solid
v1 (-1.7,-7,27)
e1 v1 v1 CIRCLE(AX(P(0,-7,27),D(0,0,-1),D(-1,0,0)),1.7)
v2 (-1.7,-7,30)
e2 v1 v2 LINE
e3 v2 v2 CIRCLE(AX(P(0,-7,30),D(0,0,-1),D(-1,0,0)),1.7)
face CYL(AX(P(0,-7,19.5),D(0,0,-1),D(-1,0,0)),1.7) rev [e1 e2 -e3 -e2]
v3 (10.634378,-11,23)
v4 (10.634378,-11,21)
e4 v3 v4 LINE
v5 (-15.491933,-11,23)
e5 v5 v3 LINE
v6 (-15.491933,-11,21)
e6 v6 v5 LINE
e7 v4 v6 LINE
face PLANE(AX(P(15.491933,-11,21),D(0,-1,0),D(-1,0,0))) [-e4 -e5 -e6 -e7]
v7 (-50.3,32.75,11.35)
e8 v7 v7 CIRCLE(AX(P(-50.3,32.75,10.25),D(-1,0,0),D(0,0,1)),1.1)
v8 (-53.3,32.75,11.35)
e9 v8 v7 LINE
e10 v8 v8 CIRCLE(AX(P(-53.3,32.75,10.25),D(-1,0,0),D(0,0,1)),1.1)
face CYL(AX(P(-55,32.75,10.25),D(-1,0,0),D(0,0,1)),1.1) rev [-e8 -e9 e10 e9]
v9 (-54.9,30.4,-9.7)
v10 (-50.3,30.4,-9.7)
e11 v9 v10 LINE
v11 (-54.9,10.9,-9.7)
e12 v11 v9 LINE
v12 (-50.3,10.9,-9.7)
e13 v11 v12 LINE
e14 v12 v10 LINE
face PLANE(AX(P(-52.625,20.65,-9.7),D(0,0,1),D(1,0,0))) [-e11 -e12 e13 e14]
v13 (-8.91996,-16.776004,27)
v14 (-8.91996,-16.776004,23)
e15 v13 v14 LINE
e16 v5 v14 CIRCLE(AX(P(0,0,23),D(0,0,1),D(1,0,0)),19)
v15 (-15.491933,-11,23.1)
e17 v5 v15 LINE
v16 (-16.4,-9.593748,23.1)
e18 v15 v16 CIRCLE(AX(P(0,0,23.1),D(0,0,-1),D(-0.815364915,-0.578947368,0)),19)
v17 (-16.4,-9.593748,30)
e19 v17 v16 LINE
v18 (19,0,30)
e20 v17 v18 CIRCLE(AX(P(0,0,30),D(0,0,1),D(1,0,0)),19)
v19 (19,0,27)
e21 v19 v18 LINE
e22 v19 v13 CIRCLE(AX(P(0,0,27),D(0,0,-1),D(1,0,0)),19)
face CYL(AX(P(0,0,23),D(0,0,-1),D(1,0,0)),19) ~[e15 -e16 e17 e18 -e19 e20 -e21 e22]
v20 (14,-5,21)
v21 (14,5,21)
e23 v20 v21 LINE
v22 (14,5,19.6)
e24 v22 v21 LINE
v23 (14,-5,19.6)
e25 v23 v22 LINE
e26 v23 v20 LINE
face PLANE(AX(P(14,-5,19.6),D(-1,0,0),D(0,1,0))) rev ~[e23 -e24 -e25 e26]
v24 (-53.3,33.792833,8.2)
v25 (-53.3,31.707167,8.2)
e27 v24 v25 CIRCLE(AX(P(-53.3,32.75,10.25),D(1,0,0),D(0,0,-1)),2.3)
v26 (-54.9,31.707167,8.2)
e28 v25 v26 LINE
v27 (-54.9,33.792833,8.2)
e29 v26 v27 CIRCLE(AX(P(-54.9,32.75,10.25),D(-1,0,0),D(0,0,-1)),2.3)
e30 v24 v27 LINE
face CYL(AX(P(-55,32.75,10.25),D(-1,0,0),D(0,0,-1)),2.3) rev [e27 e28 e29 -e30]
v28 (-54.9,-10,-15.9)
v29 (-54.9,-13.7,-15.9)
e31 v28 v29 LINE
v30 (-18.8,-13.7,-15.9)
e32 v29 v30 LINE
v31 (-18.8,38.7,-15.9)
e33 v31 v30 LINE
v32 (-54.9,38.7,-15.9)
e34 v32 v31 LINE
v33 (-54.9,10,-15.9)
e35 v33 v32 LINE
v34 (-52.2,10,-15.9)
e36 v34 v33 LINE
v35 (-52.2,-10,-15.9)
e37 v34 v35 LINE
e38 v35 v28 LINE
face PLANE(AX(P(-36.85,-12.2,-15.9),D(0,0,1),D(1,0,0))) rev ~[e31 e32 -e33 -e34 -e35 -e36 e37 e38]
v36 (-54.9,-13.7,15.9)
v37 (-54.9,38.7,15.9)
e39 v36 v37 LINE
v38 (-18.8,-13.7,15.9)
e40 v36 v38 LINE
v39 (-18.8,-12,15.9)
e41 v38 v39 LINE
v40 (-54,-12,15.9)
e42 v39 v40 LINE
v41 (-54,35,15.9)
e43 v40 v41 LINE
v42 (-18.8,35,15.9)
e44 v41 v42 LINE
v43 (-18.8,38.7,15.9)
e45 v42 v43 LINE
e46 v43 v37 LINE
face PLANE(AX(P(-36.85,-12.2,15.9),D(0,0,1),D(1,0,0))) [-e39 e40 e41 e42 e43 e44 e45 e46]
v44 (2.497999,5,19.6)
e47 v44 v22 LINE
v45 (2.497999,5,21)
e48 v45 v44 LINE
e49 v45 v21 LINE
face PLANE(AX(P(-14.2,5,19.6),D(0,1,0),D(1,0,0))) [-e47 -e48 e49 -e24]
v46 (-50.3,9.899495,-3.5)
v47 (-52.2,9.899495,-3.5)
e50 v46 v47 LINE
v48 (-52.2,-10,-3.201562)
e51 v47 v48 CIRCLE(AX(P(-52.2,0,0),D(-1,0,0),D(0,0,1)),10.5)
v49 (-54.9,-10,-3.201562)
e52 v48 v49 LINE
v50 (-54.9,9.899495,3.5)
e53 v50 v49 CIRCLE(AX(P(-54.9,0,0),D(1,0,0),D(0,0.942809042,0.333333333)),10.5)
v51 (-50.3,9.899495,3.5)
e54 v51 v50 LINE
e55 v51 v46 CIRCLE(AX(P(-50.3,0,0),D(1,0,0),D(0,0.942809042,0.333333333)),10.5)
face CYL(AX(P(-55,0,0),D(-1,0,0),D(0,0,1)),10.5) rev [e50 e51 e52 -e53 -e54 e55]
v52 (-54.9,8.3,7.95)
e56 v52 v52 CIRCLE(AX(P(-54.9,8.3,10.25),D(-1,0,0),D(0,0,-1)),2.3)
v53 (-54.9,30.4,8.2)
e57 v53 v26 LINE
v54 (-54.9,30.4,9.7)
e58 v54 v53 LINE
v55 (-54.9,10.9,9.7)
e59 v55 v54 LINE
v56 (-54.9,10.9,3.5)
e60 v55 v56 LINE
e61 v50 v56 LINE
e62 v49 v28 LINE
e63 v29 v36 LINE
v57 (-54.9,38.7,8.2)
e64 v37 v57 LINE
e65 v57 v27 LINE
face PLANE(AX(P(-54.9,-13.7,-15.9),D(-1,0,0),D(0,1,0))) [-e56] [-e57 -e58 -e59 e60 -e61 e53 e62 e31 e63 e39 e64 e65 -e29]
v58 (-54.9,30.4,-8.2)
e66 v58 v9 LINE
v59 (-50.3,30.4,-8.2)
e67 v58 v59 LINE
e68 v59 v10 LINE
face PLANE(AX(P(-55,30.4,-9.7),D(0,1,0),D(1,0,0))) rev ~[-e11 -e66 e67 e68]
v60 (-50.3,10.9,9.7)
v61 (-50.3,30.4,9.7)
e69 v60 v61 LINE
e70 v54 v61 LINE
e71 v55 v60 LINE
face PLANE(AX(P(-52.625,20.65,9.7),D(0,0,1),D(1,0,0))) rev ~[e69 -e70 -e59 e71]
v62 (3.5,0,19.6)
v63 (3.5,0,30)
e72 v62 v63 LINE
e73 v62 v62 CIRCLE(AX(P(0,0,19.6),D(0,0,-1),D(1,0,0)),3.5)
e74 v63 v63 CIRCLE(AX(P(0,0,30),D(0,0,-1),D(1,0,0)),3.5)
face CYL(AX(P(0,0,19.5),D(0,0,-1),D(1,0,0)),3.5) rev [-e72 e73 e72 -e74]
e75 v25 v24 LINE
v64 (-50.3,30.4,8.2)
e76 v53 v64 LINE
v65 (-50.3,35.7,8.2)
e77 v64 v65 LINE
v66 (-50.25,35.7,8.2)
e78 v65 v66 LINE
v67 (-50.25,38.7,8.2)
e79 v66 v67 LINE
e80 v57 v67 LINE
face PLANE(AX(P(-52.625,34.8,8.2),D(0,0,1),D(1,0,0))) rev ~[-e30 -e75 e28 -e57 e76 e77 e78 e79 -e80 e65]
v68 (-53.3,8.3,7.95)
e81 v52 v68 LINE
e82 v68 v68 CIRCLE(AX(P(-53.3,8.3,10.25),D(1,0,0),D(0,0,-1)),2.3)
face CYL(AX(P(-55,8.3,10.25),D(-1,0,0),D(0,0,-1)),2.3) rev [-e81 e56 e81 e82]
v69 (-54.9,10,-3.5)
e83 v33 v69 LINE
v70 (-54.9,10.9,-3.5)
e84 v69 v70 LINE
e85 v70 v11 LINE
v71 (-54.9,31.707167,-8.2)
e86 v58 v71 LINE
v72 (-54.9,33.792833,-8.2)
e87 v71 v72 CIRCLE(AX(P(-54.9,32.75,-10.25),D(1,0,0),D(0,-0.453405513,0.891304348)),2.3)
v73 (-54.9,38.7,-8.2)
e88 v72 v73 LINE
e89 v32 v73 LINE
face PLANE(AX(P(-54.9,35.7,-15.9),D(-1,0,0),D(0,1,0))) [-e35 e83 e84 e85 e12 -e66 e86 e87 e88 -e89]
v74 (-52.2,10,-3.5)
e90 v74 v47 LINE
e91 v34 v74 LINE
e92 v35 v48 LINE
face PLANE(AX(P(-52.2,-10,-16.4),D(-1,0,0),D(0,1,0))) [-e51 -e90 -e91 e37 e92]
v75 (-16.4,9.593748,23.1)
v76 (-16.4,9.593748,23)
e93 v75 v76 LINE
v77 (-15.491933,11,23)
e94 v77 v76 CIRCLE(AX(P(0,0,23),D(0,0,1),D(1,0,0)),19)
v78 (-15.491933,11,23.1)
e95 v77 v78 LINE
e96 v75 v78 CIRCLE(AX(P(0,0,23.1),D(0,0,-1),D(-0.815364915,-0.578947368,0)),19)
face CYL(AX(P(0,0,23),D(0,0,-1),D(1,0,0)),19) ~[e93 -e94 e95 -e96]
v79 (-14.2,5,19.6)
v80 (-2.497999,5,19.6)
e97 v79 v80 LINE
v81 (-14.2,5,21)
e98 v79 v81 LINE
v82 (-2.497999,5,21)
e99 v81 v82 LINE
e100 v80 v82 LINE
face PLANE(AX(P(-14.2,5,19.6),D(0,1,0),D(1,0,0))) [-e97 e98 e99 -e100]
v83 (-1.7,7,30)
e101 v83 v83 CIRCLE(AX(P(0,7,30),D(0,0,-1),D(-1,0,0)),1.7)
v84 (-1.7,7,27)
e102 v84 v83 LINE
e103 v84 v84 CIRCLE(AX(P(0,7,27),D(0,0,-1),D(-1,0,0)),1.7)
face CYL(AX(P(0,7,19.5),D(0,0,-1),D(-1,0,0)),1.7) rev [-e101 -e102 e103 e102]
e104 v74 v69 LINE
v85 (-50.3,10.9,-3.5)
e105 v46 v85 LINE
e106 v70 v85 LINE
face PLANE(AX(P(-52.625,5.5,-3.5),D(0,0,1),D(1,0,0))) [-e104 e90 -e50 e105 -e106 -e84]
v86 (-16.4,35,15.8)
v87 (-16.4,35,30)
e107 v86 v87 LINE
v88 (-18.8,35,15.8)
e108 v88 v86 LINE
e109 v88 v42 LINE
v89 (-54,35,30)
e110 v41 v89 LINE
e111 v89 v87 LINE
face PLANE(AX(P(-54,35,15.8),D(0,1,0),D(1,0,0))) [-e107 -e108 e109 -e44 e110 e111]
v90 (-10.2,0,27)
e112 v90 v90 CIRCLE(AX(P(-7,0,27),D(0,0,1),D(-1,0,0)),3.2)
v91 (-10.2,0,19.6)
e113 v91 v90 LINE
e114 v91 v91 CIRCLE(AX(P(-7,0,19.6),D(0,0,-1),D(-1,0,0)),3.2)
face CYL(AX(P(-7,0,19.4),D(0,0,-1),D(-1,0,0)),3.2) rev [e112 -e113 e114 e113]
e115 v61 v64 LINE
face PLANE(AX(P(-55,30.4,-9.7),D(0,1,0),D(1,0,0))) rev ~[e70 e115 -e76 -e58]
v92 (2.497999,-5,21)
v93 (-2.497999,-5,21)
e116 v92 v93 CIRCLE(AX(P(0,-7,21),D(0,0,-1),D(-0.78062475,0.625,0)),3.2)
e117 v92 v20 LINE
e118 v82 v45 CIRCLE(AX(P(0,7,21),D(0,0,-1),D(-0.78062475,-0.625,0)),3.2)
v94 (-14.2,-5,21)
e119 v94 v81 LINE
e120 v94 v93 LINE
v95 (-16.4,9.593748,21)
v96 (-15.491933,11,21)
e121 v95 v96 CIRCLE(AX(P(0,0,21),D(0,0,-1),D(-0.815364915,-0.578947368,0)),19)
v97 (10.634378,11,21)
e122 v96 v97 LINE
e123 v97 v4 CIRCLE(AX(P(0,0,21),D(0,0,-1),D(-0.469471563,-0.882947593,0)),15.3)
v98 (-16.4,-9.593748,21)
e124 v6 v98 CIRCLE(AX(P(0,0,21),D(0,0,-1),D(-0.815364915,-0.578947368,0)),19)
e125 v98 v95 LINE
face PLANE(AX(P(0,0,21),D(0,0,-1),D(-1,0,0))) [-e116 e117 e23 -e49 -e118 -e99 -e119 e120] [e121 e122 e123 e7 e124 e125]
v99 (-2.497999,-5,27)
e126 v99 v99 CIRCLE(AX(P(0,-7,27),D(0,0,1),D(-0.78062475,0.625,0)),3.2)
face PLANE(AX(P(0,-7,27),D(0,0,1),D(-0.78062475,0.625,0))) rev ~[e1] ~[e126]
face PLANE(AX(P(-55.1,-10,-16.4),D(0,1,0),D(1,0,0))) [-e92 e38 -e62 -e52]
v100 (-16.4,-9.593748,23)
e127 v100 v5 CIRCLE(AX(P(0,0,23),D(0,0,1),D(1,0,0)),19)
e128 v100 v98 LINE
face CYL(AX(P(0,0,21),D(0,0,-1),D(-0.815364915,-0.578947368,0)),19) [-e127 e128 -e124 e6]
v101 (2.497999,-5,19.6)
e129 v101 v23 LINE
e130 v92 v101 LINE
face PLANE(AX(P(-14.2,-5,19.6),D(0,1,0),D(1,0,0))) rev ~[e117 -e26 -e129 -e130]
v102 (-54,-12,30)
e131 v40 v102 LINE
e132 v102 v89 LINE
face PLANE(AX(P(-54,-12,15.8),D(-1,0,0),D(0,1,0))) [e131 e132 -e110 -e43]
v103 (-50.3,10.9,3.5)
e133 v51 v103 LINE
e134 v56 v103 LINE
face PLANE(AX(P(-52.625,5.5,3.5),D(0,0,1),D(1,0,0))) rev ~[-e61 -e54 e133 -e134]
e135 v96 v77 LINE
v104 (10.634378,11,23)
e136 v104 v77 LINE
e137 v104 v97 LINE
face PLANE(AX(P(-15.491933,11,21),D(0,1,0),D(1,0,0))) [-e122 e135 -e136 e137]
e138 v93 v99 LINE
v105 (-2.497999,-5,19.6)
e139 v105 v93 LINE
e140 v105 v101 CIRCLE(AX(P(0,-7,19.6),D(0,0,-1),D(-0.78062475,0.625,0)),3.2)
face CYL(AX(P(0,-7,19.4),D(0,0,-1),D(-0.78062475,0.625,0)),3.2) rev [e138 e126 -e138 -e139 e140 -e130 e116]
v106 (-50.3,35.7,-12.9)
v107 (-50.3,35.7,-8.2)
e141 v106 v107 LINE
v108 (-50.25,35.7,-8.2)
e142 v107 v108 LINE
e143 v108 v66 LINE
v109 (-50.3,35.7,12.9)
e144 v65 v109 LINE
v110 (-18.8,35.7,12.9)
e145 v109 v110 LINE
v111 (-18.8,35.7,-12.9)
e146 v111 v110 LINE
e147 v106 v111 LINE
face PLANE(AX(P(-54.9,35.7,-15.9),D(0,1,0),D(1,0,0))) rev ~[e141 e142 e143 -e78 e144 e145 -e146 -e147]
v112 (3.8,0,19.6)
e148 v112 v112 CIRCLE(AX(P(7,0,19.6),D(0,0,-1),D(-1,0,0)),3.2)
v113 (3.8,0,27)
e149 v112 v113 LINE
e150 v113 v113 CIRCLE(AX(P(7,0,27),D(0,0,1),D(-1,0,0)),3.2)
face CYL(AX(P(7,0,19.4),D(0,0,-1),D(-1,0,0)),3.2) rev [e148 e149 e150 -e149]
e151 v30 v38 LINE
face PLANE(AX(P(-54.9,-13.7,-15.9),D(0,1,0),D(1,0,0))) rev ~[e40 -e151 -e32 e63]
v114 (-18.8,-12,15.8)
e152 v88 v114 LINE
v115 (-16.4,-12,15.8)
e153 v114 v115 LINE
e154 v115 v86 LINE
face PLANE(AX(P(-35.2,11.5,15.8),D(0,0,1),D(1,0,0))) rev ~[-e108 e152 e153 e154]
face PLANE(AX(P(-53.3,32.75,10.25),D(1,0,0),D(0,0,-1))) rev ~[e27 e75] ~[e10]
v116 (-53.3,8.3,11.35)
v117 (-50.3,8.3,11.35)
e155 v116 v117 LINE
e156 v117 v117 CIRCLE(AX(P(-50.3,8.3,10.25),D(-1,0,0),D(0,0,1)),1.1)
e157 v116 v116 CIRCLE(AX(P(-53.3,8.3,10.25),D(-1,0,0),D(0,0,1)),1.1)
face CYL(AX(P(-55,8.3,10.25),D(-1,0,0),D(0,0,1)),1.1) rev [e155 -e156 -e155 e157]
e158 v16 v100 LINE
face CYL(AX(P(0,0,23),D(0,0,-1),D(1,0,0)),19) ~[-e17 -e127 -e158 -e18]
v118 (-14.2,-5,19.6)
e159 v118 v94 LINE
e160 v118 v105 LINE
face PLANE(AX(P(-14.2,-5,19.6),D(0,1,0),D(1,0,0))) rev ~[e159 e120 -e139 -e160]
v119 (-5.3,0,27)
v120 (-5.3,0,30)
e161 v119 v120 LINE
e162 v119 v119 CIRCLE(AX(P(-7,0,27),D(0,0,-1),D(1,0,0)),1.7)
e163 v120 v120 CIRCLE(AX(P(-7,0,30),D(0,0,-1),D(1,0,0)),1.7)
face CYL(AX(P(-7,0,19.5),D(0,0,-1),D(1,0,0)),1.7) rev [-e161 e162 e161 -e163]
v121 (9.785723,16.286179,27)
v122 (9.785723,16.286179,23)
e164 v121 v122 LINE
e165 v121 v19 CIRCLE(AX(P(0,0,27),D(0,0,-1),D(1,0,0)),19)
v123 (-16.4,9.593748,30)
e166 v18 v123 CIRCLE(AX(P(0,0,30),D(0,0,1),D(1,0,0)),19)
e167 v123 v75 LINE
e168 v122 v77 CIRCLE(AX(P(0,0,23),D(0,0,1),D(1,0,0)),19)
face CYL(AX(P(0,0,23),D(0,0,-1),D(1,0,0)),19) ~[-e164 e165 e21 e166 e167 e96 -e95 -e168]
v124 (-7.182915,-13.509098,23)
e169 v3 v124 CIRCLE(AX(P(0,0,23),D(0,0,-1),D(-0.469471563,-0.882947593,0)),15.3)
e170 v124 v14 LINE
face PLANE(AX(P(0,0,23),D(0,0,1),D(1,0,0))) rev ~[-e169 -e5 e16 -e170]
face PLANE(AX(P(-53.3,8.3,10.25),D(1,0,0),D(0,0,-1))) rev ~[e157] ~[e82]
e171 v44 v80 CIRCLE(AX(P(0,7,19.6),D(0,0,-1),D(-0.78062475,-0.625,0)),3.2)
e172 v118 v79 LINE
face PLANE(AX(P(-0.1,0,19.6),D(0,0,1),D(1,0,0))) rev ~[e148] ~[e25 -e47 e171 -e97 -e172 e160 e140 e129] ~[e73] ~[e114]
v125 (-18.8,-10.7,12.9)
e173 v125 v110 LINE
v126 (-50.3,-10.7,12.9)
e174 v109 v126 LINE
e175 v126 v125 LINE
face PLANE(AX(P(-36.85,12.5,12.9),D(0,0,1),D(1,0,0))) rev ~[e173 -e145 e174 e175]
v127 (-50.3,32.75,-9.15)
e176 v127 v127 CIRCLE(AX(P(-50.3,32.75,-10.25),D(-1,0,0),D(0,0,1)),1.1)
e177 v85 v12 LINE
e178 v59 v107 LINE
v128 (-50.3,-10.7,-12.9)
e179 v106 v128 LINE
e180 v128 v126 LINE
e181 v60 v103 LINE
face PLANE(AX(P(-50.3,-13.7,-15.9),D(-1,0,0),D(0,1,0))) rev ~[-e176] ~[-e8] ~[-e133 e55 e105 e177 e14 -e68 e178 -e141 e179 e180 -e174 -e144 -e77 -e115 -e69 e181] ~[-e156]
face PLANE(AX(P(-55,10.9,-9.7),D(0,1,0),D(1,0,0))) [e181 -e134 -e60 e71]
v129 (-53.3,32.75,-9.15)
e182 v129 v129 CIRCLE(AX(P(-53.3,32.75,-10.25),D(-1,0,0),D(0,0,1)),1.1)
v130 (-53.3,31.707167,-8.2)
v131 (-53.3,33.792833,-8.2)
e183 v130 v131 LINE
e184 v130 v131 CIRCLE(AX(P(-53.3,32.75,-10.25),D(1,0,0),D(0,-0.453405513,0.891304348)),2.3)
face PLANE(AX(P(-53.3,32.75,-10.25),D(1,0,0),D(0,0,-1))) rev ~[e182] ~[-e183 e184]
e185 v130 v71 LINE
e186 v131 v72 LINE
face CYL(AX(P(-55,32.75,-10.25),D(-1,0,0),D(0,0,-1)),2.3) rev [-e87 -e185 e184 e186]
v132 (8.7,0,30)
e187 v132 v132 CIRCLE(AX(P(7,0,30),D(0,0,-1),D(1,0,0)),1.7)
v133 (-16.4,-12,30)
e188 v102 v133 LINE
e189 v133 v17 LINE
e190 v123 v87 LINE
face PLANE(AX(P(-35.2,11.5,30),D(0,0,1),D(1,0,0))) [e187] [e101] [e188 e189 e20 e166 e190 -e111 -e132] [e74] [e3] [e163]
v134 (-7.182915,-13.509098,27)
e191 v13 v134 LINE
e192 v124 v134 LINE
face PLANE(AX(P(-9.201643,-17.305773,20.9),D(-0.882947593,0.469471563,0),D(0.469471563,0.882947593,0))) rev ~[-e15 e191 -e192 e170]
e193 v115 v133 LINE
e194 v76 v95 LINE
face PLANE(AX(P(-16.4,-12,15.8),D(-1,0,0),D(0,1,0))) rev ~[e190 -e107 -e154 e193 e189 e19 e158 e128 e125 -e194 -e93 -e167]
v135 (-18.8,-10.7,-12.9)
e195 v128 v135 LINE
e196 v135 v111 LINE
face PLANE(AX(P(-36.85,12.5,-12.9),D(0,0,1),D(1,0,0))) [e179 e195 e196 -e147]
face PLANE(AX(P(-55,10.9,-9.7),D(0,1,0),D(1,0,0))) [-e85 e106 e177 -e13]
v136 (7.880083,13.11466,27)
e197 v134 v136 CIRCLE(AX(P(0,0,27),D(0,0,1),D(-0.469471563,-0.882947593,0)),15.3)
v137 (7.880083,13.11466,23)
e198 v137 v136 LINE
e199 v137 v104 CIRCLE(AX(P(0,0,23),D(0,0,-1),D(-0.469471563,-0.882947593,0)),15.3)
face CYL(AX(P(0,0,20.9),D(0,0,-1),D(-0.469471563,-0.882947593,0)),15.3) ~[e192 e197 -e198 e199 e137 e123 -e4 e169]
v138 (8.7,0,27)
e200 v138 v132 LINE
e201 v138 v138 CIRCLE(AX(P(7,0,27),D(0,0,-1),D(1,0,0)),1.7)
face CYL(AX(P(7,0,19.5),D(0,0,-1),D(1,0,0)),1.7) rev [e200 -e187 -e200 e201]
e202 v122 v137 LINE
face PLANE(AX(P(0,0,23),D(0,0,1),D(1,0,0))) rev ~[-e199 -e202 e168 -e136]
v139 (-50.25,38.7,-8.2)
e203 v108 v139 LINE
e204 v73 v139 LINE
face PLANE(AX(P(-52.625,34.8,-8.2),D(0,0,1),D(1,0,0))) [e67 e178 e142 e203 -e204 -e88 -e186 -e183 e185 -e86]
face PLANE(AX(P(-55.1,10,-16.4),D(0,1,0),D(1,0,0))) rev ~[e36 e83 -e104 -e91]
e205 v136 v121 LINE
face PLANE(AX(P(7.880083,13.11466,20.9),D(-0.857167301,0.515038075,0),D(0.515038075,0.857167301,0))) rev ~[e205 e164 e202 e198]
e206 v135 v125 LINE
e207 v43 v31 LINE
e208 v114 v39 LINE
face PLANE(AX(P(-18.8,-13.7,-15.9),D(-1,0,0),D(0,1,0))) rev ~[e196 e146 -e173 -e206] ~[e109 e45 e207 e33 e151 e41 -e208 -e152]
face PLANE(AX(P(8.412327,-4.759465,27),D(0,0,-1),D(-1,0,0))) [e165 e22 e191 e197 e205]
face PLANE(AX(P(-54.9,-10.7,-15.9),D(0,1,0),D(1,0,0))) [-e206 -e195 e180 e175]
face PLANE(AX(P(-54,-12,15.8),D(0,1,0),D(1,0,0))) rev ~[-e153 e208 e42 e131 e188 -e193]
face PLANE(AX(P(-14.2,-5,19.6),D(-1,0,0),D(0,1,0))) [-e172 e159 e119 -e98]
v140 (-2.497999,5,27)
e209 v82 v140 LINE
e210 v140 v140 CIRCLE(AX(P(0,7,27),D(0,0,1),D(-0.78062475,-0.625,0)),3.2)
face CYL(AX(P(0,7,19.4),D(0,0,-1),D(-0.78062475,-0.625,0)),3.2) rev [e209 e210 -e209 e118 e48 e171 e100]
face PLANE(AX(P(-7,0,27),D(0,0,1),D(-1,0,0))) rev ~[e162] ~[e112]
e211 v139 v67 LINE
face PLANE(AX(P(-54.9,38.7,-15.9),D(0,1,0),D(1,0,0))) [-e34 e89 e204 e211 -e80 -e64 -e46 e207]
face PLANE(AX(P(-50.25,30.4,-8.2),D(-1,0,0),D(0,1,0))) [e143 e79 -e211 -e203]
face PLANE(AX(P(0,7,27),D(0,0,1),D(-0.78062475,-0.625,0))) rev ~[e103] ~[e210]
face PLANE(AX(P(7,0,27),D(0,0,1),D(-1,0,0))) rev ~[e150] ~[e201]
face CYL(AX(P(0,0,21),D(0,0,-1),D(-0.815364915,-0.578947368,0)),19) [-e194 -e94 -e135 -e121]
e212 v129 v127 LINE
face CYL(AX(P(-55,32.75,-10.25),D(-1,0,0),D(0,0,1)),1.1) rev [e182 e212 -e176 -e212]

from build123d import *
from build123d.topology import SkipClean

# Parameters (mm, degrees)
S_CYL1_R        = 19
BOSS_1_DEPTH    = 7
BOSS_2_DEPTH    = 2.1
S_BOX3_W        = 28.2
S_BOX3_H        = 10
BOSS_3_DEPTH    = 1.5
S_BOX4_W        = 37.6
S_BOX4_H        = 47
BOSS_4_DEPTH    = 14.2
S_BOX5_W        = 36.1
S_BOX5_H        = 3
BOSS_5_DEPTH    = 31.8
S_BOX6_W        = 36.1
S_BOX6_H        = 3
BOSS_6_DEPTH    = 31.8
S_BOX7_W        = 36.1
S_BOX7_H        = 52.4
BOSS_7_DEPTH    = 3
S_BOX8_W        = 36.1
S_BOX8_H        = 52.4
BOSS_8_DEPTH    = 3
S_BOX9_W        = 4.6
S_BOX9_H        = 52.4
BOSS_9_DEPTH    = 31.8
S_HOLE10_R      = 10.5
HOLE_10_DEPTH   = 4.8
S_CUT11_W       = 4.75
S_CUT11_H       = 19.5
POCKET_11_DEPTH = 19.4
S_CUT12_W       = 4.75
S_CUT12_H       = 8.8
POCKET_12_DEPTH = 16.4
S_CUT13_W       = 4.75
S_CUT13_H       = 11
POCKET_13_DEPTH = 7
S_CUT14_W       = 2.9
S_CUT14_H       = 20
POCKET_14_DEPTH = 16.4
S_HOLE15_R      = 1.1
HOLE_15_DEPTH   = 4.8
S_HOLE16_R      = 2.3
HOLE_16_DEPTH   = 1.7
S_HOLE17_R      = 1.1
HOLE_17_DEPTH   = 4.8
S_HOLE18_R      = 2.3
HOLE_18_DEPTH   = 1.7
S_HOLE19_R      = 1.1
HOLE_19_DEPTH   = 4.8
S_HOLE20_R      = 2.3
HOLE_20_DEPTH   = 1.7
CUT_21_DEPTH    = 6.1
S_HOLE22_R      = 3.5
HOLE_22_DEPTH   = 10.6
S_HOLE23_R      = 1.7
HOLE_23_DEPTH   = 10.6
S_HOLE24_R      = 1.7
HOLE_24_DEPTH   = 10.6
S_HOLE25_R      = 1.7
HOLE_25_DEPTH   = 10.6
S_HOLE26_R      = 1.7
HOLE_26_DEPTH   = 10.6
S_HOLE27_R      = 3.2
HOLE_27_DEPTH   = 7.6
S_HOLE28_R      = 3.2
HOLE_28_DEPTH   = 7.6
S_HOLE29_R      = 3.2
HOLE_29_DEPTH   = 7.6
S_HOLE30_R      = 3.2
HOLE_30_DEPTH   = 7.6


with BuildPart() as part:
    # S_cyl1 → Boss_1 (new body)
    with BuildSketch(Plane.XY.offset(23)):
        Circle(S_CYL1_R)
    extrude(amount=BOSS_1_DEPTH)

    # S_prism2 → Boss_2 (add)
    with SkipClean():  # the faces are left unmerged after this step: merging them gives an invalid solid
        with BuildSketch(Plane.XY.offset(21)):
            with BuildLine():
                Line((-15.491933385, 11), (15.491933385, 11))
                ThreePointArc((15.491933385, 11), (19, 0), (15.491933385, -11))
                Line((15.491933385, -11), (-15.491933385, -11))
                ThreePointArc((-15.491933385, -11), (-19, 0), (-15.491933385, 11))
            make_face()
        extrude(amount=BOSS_2_DEPTH)

    # S_box3 → Boss_3 (add)
    with SkipClean():  # the faces are left unmerged after this step: merging them gives an invalid solid
        with BuildSketch(Plane.XY.offset(19.6)):
            with Locations((-0.1, 0)):
                Rectangle(S_BOX3_W, S_BOX3_H)
        extrude(amount=BOSS_3_DEPTH)

    # S_box4 → Boss_4 (add)
    with SkipClean():  # the faces are left unmerged after this step: merging them gives an invalid solid
        with BuildSketch(Plane.XY.offset(15.8)):
            with Locations((-35.2, 11.5)):
                Rectangle(S_BOX4_W, S_BOX4_H)
        extrude(amount=BOSS_4_DEPTH)

    # S_box6 → Boss_6 (add)
    with SkipClean():  # the faces are left unmerged after this step: merging them gives an invalid solid
        with BuildSketch(Plane.XY.offset(-15.9)):
            with Locations((-36.85, -12.2)):
                Rectangle(S_BOX6_W, S_BOX6_H)
        extrude(amount=BOSS_6_DEPTH)



with BuildPart() as body_2:
    # S_box5 → Boss_5 (new body)
    with BuildSketch(Plane.XY.offset(-15.9)):
        with Locations((-36.85, 37.2)):
            Rectangle(S_BOX5_W, S_BOX5_H)
    extrude(amount=BOSS_5_DEPTH)


with BuildPart() as part_1:
    with SkipClean():  # the faces are left unmerged after this step: merging them gives an invalid solid
        add(part.part)

        add(body_2.part)  # Boss_7 merges body 2
        # S_box7 → Boss_7 (add)
        with BuildSketch(Plane.XY.offset(-15.9)):
            with Locations((-36.85, 12.5)):
                Rectangle(S_BOX7_W, S_BOX7_H)
        extrude(amount=BOSS_7_DEPTH)

    # S_box8 → Boss_8 (add)
    with SkipClean():  # the faces are left unmerged after this step: merging them gives an invalid solid
        with BuildSketch(Plane.XY.offset(12.9)):
            with Locations((-36.85, 12.5)):
                Rectangle(S_BOX8_W, S_BOX8_H)
        extrude(amount=BOSS_8_DEPTH)

    # S_box9 → Boss_9 (add)
    with SkipClean():  # the faces are left unmerged after this step: merging them gives an invalid solid
        with BuildSketch(Plane.XY.offset(-15.9)):
            with Locations((-52.6, 12.5)):
                Rectangle(S_BOX9_W, S_BOX9_H)
        extrude(amount=BOSS_9_DEPTH)

    # S_hole10 → Hole_10 (cut)
    with SkipClean():  # the faces are left unmerged after this step: merging them gives an invalid solid
        with BuildSketch(Plane(origin=(-55, 0, 0), x_dir=(0, 0, -1), z_dir=(1, 0, 0))):
            Circle(S_HOLE10_R)
        extrude(amount=HOLE_10_DEPTH, mode=Mode.SUBTRACT)

    # S_cut11 → Pocket_11 (cut)
    with SkipClean():  # the faces are left unmerged after this step: merging them gives an invalid solid
        with BuildSketch(Plane.XY.offset(-9.7)):
            with Locations((-52.625, 20.65)):
                Rectangle(S_CUT11_W, S_CUT11_H)
        extrude(amount=POCKET_11_DEPTH, mode=Mode.SUBTRACT)

    # S_cut12 → Pocket_12 (cut)
    with SkipClean():  # the faces are left unmerged after this step: merging them gives an invalid solid
        with BuildSketch(Plane.XY.offset(-8.2)):
            with Locations((-52.625, 34.8)):
                Rectangle(S_CUT12_W, S_CUT12_H)
        extrude(amount=POCKET_12_DEPTH, mode=Mode.SUBTRACT)

    # S_cut13 → Pocket_13 (cut)
    with SkipClean():  # the faces are left unmerged after this step: merging them gives an invalid solid
        with BuildSketch(Plane.XY.offset(-3.5)):
            with Locations((-52.625, 5.5)):
                Rectangle(S_CUT13_W, S_CUT13_H)
        extrude(amount=POCKET_13_DEPTH, mode=Mode.SUBTRACT)

    # S_cut14 → Pocket_14 (cut)
    with SkipClean():  # the faces are left unmerged after this step: merging them gives an invalid solid
        with BuildSketch(Plane.XY.offset(-16.4)):
            with Locations((-53.65, 0)):
                Rectangle(S_CUT14_W, S_CUT14_H)
        extrude(amount=POCKET_14_DEPTH, mode=Mode.SUBTRACT)

    # S_hole15 → Hole_15 (cut)
    with SkipClean():  # the faces are left unmerged after this step: merging them gives an invalid solid
        with BuildSketch(Plane(origin=(-55, 0, 0), x_dir=(0, 0, -1), z_dir=(1, 0, 0))):
            with Locations((-10.25, 8.3)):
                Circle(S_HOLE15_R)
        extrude(amount=HOLE_15_DEPTH, mode=Mode.SUBTRACT)

    # S_hole16 → Hole_16 (cut)
    with SkipClean():  # the faces are left unmerged after this step: merging them gives an invalid solid
        with BuildSketch(Plane(origin=(-55, 0, 0), x_dir=(0, 0, -1), z_dir=(1, 0, 0))):
            with Locations((-10.25, 8.3)):
                Circle(S_HOLE16_R)
        extrude(amount=HOLE_16_DEPTH, mode=Mode.SUBTRACT)

    # S_hole17 → Hole_17 (cut)
    with SkipClean():  # the faces are left unmerged after this step: merging them gives an invalid solid
        with BuildSketch(Plane(origin=(-55, 0, 0), x_dir=(0, 0, -1), z_dir=(1, 0, 0))):
            with Locations((10.25, 32.75)):
                Circle(S_HOLE17_R)
        extrude(amount=HOLE_17_DEPTH, mode=Mode.SUBTRACT)

    # S_hole18 → Hole_18 (cut)
    with SkipClean():  # the faces are left unmerged after this step: merging them gives an invalid solid
        with BuildSketch(Plane(origin=(-55, 0, 0), x_dir=(0, 0, -1), z_dir=(1, 0, 0))):
            with Locations((10.25, 32.75)):
                Circle(S_HOLE18_R)
        extrude(amount=HOLE_18_DEPTH, mode=Mode.SUBTRACT)

    # S_hole19 → Hole_19 (cut)
    with SkipClean():  # the faces are left unmerged after this step: merging them gives an invalid solid
        with BuildSketch(Plane(origin=(-55, 0, 0), x_dir=(0, 0, -1), z_dir=(1, 0, 0))):
            with Locations((-10.25, 32.75)):
                Circle(S_HOLE19_R)
        extrude(amount=HOLE_19_DEPTH, mode=Mode.SUBTRACT)

    # S_hole20 → Hole_20 (cut)
    with SkipClean():  # the faces are left unmerged after this step: merging them gives an invalid solid
        with BuildSketch(Plane(origin=(-55, 0, 0), x_dir=(0, 0, -1), z_dir=(1, 0, 0))):
            with Locations((-10.25, 32.75)):
                Circle(S_HOLE20_R)
        extrude(amount=HOLE_20_DEPTH, mode=Mode.SUBTRACT)

    # S_pcut21 → Cut_21 (cut)
    with BuildSketch(Plane.XY.offset(20.9)):
        with BuildLine():
            Line((-9.201642631, -17.30577282), (-7.182914911, -13.509098171))
            ThreePointArc((-7.182914911, -13.509098171), (13.316442148, -7.53408047), (7.880082546, 13.114659701))
            Line((7.880082546, 13.114659701), (10.094746268, 16.800479094))
            ThreePointArc((10.094746268, 16.800479094), (17.05897164, -9.651501778), (-9.201642631, -17.30577282))
        make_face()
    extrude(amount=CUT_21_DEPTH, mode=Mode.SUBTRACT)

    # S_hole22 → Hole_22 (cut)
    with BuildSketch(Plane.XY.offset(19.5)):
        Circle(S_HOLE22_R)
    extrude(amount=HOLE_22_DEPTH, mode=Mode.SUBTRACT)

    # S_hole23 → Hole_23 (cut)
    with BuildSketch(Plane.XY.offset(19.5)):
        with Locations((7, 0)):
            Circle(S_HOLE23_R)
    extrude(amount=HOLE_23_DEPTH, mode=Mode.SUBTRACT)

    # S_hole24 → Hole_24 (cut)
    with BuildSketch(Plane.XY.offset(19.5)):
        with Locations((0, -7)):
            Circle(S_HOLE24_R)
    extrude(amount=HOLE_24_DEPTH, mode=Mode.SUBTRACT)

    # S_hole25 → Hole_25 (cut)
    with BuildSketch(Plane.XY.offset(19.5)):
        with Locations((-7, 0)):
            Circle(S_HOLE25_R)
    extrude(amount=HOLE_25_DEPTH, mode=Mode.SUBTRACT)

    # S_hole26 → Hole_26 (cut)
    with BuildSketch(Plane.XY.offset(19.5)):
        with Locations((0, 7)):
            Circle(S_HOLE26_R)
    extrude(amount=HOLE_26_DEPTH, mode=Mode.SUBTRACT)

    # S_hole27 → Hole_27 (cut)
    with BuildSketch(Plane.XY.offset(19.4)):
        with Locations((7, 0)):
            Circle(S_HOLE27_R)
    extrude(amount=HOLE_27_DEPTH, mode=Mode.SUBTRACT)

    # S_hole28 → Hole_28 (cut)
    with BuildSketch(Plane.XY.offset(19.4)):
        with Locations((0, -7)):
            Circle(S_HOLE28_R)
    extrude(amount=HOLE_28_DEPTH, mode=Mode.SUBTRACT)

    # S_hole29 → Hole_29 (cut)
    with BuildSketch(Plane.XY.offset(19.4)):
        with Locations((-7, 0)):
            Circle(S_HOLE29_R)
    extrude(amount=HOLE_29_DEPTH, mode=Mode.SUBTRACT)

    # S_hole30 → Hole_30 (cut)
    with BuildSketch(Plane.XY.offset(19.4)):
        with Locations((0, 7)):
            Circle(S_HOLE30_R)
    extrude(amount=HOLE_30_DEPTH, mode=Mode.SUBTRACT)


solid = part_1.part
